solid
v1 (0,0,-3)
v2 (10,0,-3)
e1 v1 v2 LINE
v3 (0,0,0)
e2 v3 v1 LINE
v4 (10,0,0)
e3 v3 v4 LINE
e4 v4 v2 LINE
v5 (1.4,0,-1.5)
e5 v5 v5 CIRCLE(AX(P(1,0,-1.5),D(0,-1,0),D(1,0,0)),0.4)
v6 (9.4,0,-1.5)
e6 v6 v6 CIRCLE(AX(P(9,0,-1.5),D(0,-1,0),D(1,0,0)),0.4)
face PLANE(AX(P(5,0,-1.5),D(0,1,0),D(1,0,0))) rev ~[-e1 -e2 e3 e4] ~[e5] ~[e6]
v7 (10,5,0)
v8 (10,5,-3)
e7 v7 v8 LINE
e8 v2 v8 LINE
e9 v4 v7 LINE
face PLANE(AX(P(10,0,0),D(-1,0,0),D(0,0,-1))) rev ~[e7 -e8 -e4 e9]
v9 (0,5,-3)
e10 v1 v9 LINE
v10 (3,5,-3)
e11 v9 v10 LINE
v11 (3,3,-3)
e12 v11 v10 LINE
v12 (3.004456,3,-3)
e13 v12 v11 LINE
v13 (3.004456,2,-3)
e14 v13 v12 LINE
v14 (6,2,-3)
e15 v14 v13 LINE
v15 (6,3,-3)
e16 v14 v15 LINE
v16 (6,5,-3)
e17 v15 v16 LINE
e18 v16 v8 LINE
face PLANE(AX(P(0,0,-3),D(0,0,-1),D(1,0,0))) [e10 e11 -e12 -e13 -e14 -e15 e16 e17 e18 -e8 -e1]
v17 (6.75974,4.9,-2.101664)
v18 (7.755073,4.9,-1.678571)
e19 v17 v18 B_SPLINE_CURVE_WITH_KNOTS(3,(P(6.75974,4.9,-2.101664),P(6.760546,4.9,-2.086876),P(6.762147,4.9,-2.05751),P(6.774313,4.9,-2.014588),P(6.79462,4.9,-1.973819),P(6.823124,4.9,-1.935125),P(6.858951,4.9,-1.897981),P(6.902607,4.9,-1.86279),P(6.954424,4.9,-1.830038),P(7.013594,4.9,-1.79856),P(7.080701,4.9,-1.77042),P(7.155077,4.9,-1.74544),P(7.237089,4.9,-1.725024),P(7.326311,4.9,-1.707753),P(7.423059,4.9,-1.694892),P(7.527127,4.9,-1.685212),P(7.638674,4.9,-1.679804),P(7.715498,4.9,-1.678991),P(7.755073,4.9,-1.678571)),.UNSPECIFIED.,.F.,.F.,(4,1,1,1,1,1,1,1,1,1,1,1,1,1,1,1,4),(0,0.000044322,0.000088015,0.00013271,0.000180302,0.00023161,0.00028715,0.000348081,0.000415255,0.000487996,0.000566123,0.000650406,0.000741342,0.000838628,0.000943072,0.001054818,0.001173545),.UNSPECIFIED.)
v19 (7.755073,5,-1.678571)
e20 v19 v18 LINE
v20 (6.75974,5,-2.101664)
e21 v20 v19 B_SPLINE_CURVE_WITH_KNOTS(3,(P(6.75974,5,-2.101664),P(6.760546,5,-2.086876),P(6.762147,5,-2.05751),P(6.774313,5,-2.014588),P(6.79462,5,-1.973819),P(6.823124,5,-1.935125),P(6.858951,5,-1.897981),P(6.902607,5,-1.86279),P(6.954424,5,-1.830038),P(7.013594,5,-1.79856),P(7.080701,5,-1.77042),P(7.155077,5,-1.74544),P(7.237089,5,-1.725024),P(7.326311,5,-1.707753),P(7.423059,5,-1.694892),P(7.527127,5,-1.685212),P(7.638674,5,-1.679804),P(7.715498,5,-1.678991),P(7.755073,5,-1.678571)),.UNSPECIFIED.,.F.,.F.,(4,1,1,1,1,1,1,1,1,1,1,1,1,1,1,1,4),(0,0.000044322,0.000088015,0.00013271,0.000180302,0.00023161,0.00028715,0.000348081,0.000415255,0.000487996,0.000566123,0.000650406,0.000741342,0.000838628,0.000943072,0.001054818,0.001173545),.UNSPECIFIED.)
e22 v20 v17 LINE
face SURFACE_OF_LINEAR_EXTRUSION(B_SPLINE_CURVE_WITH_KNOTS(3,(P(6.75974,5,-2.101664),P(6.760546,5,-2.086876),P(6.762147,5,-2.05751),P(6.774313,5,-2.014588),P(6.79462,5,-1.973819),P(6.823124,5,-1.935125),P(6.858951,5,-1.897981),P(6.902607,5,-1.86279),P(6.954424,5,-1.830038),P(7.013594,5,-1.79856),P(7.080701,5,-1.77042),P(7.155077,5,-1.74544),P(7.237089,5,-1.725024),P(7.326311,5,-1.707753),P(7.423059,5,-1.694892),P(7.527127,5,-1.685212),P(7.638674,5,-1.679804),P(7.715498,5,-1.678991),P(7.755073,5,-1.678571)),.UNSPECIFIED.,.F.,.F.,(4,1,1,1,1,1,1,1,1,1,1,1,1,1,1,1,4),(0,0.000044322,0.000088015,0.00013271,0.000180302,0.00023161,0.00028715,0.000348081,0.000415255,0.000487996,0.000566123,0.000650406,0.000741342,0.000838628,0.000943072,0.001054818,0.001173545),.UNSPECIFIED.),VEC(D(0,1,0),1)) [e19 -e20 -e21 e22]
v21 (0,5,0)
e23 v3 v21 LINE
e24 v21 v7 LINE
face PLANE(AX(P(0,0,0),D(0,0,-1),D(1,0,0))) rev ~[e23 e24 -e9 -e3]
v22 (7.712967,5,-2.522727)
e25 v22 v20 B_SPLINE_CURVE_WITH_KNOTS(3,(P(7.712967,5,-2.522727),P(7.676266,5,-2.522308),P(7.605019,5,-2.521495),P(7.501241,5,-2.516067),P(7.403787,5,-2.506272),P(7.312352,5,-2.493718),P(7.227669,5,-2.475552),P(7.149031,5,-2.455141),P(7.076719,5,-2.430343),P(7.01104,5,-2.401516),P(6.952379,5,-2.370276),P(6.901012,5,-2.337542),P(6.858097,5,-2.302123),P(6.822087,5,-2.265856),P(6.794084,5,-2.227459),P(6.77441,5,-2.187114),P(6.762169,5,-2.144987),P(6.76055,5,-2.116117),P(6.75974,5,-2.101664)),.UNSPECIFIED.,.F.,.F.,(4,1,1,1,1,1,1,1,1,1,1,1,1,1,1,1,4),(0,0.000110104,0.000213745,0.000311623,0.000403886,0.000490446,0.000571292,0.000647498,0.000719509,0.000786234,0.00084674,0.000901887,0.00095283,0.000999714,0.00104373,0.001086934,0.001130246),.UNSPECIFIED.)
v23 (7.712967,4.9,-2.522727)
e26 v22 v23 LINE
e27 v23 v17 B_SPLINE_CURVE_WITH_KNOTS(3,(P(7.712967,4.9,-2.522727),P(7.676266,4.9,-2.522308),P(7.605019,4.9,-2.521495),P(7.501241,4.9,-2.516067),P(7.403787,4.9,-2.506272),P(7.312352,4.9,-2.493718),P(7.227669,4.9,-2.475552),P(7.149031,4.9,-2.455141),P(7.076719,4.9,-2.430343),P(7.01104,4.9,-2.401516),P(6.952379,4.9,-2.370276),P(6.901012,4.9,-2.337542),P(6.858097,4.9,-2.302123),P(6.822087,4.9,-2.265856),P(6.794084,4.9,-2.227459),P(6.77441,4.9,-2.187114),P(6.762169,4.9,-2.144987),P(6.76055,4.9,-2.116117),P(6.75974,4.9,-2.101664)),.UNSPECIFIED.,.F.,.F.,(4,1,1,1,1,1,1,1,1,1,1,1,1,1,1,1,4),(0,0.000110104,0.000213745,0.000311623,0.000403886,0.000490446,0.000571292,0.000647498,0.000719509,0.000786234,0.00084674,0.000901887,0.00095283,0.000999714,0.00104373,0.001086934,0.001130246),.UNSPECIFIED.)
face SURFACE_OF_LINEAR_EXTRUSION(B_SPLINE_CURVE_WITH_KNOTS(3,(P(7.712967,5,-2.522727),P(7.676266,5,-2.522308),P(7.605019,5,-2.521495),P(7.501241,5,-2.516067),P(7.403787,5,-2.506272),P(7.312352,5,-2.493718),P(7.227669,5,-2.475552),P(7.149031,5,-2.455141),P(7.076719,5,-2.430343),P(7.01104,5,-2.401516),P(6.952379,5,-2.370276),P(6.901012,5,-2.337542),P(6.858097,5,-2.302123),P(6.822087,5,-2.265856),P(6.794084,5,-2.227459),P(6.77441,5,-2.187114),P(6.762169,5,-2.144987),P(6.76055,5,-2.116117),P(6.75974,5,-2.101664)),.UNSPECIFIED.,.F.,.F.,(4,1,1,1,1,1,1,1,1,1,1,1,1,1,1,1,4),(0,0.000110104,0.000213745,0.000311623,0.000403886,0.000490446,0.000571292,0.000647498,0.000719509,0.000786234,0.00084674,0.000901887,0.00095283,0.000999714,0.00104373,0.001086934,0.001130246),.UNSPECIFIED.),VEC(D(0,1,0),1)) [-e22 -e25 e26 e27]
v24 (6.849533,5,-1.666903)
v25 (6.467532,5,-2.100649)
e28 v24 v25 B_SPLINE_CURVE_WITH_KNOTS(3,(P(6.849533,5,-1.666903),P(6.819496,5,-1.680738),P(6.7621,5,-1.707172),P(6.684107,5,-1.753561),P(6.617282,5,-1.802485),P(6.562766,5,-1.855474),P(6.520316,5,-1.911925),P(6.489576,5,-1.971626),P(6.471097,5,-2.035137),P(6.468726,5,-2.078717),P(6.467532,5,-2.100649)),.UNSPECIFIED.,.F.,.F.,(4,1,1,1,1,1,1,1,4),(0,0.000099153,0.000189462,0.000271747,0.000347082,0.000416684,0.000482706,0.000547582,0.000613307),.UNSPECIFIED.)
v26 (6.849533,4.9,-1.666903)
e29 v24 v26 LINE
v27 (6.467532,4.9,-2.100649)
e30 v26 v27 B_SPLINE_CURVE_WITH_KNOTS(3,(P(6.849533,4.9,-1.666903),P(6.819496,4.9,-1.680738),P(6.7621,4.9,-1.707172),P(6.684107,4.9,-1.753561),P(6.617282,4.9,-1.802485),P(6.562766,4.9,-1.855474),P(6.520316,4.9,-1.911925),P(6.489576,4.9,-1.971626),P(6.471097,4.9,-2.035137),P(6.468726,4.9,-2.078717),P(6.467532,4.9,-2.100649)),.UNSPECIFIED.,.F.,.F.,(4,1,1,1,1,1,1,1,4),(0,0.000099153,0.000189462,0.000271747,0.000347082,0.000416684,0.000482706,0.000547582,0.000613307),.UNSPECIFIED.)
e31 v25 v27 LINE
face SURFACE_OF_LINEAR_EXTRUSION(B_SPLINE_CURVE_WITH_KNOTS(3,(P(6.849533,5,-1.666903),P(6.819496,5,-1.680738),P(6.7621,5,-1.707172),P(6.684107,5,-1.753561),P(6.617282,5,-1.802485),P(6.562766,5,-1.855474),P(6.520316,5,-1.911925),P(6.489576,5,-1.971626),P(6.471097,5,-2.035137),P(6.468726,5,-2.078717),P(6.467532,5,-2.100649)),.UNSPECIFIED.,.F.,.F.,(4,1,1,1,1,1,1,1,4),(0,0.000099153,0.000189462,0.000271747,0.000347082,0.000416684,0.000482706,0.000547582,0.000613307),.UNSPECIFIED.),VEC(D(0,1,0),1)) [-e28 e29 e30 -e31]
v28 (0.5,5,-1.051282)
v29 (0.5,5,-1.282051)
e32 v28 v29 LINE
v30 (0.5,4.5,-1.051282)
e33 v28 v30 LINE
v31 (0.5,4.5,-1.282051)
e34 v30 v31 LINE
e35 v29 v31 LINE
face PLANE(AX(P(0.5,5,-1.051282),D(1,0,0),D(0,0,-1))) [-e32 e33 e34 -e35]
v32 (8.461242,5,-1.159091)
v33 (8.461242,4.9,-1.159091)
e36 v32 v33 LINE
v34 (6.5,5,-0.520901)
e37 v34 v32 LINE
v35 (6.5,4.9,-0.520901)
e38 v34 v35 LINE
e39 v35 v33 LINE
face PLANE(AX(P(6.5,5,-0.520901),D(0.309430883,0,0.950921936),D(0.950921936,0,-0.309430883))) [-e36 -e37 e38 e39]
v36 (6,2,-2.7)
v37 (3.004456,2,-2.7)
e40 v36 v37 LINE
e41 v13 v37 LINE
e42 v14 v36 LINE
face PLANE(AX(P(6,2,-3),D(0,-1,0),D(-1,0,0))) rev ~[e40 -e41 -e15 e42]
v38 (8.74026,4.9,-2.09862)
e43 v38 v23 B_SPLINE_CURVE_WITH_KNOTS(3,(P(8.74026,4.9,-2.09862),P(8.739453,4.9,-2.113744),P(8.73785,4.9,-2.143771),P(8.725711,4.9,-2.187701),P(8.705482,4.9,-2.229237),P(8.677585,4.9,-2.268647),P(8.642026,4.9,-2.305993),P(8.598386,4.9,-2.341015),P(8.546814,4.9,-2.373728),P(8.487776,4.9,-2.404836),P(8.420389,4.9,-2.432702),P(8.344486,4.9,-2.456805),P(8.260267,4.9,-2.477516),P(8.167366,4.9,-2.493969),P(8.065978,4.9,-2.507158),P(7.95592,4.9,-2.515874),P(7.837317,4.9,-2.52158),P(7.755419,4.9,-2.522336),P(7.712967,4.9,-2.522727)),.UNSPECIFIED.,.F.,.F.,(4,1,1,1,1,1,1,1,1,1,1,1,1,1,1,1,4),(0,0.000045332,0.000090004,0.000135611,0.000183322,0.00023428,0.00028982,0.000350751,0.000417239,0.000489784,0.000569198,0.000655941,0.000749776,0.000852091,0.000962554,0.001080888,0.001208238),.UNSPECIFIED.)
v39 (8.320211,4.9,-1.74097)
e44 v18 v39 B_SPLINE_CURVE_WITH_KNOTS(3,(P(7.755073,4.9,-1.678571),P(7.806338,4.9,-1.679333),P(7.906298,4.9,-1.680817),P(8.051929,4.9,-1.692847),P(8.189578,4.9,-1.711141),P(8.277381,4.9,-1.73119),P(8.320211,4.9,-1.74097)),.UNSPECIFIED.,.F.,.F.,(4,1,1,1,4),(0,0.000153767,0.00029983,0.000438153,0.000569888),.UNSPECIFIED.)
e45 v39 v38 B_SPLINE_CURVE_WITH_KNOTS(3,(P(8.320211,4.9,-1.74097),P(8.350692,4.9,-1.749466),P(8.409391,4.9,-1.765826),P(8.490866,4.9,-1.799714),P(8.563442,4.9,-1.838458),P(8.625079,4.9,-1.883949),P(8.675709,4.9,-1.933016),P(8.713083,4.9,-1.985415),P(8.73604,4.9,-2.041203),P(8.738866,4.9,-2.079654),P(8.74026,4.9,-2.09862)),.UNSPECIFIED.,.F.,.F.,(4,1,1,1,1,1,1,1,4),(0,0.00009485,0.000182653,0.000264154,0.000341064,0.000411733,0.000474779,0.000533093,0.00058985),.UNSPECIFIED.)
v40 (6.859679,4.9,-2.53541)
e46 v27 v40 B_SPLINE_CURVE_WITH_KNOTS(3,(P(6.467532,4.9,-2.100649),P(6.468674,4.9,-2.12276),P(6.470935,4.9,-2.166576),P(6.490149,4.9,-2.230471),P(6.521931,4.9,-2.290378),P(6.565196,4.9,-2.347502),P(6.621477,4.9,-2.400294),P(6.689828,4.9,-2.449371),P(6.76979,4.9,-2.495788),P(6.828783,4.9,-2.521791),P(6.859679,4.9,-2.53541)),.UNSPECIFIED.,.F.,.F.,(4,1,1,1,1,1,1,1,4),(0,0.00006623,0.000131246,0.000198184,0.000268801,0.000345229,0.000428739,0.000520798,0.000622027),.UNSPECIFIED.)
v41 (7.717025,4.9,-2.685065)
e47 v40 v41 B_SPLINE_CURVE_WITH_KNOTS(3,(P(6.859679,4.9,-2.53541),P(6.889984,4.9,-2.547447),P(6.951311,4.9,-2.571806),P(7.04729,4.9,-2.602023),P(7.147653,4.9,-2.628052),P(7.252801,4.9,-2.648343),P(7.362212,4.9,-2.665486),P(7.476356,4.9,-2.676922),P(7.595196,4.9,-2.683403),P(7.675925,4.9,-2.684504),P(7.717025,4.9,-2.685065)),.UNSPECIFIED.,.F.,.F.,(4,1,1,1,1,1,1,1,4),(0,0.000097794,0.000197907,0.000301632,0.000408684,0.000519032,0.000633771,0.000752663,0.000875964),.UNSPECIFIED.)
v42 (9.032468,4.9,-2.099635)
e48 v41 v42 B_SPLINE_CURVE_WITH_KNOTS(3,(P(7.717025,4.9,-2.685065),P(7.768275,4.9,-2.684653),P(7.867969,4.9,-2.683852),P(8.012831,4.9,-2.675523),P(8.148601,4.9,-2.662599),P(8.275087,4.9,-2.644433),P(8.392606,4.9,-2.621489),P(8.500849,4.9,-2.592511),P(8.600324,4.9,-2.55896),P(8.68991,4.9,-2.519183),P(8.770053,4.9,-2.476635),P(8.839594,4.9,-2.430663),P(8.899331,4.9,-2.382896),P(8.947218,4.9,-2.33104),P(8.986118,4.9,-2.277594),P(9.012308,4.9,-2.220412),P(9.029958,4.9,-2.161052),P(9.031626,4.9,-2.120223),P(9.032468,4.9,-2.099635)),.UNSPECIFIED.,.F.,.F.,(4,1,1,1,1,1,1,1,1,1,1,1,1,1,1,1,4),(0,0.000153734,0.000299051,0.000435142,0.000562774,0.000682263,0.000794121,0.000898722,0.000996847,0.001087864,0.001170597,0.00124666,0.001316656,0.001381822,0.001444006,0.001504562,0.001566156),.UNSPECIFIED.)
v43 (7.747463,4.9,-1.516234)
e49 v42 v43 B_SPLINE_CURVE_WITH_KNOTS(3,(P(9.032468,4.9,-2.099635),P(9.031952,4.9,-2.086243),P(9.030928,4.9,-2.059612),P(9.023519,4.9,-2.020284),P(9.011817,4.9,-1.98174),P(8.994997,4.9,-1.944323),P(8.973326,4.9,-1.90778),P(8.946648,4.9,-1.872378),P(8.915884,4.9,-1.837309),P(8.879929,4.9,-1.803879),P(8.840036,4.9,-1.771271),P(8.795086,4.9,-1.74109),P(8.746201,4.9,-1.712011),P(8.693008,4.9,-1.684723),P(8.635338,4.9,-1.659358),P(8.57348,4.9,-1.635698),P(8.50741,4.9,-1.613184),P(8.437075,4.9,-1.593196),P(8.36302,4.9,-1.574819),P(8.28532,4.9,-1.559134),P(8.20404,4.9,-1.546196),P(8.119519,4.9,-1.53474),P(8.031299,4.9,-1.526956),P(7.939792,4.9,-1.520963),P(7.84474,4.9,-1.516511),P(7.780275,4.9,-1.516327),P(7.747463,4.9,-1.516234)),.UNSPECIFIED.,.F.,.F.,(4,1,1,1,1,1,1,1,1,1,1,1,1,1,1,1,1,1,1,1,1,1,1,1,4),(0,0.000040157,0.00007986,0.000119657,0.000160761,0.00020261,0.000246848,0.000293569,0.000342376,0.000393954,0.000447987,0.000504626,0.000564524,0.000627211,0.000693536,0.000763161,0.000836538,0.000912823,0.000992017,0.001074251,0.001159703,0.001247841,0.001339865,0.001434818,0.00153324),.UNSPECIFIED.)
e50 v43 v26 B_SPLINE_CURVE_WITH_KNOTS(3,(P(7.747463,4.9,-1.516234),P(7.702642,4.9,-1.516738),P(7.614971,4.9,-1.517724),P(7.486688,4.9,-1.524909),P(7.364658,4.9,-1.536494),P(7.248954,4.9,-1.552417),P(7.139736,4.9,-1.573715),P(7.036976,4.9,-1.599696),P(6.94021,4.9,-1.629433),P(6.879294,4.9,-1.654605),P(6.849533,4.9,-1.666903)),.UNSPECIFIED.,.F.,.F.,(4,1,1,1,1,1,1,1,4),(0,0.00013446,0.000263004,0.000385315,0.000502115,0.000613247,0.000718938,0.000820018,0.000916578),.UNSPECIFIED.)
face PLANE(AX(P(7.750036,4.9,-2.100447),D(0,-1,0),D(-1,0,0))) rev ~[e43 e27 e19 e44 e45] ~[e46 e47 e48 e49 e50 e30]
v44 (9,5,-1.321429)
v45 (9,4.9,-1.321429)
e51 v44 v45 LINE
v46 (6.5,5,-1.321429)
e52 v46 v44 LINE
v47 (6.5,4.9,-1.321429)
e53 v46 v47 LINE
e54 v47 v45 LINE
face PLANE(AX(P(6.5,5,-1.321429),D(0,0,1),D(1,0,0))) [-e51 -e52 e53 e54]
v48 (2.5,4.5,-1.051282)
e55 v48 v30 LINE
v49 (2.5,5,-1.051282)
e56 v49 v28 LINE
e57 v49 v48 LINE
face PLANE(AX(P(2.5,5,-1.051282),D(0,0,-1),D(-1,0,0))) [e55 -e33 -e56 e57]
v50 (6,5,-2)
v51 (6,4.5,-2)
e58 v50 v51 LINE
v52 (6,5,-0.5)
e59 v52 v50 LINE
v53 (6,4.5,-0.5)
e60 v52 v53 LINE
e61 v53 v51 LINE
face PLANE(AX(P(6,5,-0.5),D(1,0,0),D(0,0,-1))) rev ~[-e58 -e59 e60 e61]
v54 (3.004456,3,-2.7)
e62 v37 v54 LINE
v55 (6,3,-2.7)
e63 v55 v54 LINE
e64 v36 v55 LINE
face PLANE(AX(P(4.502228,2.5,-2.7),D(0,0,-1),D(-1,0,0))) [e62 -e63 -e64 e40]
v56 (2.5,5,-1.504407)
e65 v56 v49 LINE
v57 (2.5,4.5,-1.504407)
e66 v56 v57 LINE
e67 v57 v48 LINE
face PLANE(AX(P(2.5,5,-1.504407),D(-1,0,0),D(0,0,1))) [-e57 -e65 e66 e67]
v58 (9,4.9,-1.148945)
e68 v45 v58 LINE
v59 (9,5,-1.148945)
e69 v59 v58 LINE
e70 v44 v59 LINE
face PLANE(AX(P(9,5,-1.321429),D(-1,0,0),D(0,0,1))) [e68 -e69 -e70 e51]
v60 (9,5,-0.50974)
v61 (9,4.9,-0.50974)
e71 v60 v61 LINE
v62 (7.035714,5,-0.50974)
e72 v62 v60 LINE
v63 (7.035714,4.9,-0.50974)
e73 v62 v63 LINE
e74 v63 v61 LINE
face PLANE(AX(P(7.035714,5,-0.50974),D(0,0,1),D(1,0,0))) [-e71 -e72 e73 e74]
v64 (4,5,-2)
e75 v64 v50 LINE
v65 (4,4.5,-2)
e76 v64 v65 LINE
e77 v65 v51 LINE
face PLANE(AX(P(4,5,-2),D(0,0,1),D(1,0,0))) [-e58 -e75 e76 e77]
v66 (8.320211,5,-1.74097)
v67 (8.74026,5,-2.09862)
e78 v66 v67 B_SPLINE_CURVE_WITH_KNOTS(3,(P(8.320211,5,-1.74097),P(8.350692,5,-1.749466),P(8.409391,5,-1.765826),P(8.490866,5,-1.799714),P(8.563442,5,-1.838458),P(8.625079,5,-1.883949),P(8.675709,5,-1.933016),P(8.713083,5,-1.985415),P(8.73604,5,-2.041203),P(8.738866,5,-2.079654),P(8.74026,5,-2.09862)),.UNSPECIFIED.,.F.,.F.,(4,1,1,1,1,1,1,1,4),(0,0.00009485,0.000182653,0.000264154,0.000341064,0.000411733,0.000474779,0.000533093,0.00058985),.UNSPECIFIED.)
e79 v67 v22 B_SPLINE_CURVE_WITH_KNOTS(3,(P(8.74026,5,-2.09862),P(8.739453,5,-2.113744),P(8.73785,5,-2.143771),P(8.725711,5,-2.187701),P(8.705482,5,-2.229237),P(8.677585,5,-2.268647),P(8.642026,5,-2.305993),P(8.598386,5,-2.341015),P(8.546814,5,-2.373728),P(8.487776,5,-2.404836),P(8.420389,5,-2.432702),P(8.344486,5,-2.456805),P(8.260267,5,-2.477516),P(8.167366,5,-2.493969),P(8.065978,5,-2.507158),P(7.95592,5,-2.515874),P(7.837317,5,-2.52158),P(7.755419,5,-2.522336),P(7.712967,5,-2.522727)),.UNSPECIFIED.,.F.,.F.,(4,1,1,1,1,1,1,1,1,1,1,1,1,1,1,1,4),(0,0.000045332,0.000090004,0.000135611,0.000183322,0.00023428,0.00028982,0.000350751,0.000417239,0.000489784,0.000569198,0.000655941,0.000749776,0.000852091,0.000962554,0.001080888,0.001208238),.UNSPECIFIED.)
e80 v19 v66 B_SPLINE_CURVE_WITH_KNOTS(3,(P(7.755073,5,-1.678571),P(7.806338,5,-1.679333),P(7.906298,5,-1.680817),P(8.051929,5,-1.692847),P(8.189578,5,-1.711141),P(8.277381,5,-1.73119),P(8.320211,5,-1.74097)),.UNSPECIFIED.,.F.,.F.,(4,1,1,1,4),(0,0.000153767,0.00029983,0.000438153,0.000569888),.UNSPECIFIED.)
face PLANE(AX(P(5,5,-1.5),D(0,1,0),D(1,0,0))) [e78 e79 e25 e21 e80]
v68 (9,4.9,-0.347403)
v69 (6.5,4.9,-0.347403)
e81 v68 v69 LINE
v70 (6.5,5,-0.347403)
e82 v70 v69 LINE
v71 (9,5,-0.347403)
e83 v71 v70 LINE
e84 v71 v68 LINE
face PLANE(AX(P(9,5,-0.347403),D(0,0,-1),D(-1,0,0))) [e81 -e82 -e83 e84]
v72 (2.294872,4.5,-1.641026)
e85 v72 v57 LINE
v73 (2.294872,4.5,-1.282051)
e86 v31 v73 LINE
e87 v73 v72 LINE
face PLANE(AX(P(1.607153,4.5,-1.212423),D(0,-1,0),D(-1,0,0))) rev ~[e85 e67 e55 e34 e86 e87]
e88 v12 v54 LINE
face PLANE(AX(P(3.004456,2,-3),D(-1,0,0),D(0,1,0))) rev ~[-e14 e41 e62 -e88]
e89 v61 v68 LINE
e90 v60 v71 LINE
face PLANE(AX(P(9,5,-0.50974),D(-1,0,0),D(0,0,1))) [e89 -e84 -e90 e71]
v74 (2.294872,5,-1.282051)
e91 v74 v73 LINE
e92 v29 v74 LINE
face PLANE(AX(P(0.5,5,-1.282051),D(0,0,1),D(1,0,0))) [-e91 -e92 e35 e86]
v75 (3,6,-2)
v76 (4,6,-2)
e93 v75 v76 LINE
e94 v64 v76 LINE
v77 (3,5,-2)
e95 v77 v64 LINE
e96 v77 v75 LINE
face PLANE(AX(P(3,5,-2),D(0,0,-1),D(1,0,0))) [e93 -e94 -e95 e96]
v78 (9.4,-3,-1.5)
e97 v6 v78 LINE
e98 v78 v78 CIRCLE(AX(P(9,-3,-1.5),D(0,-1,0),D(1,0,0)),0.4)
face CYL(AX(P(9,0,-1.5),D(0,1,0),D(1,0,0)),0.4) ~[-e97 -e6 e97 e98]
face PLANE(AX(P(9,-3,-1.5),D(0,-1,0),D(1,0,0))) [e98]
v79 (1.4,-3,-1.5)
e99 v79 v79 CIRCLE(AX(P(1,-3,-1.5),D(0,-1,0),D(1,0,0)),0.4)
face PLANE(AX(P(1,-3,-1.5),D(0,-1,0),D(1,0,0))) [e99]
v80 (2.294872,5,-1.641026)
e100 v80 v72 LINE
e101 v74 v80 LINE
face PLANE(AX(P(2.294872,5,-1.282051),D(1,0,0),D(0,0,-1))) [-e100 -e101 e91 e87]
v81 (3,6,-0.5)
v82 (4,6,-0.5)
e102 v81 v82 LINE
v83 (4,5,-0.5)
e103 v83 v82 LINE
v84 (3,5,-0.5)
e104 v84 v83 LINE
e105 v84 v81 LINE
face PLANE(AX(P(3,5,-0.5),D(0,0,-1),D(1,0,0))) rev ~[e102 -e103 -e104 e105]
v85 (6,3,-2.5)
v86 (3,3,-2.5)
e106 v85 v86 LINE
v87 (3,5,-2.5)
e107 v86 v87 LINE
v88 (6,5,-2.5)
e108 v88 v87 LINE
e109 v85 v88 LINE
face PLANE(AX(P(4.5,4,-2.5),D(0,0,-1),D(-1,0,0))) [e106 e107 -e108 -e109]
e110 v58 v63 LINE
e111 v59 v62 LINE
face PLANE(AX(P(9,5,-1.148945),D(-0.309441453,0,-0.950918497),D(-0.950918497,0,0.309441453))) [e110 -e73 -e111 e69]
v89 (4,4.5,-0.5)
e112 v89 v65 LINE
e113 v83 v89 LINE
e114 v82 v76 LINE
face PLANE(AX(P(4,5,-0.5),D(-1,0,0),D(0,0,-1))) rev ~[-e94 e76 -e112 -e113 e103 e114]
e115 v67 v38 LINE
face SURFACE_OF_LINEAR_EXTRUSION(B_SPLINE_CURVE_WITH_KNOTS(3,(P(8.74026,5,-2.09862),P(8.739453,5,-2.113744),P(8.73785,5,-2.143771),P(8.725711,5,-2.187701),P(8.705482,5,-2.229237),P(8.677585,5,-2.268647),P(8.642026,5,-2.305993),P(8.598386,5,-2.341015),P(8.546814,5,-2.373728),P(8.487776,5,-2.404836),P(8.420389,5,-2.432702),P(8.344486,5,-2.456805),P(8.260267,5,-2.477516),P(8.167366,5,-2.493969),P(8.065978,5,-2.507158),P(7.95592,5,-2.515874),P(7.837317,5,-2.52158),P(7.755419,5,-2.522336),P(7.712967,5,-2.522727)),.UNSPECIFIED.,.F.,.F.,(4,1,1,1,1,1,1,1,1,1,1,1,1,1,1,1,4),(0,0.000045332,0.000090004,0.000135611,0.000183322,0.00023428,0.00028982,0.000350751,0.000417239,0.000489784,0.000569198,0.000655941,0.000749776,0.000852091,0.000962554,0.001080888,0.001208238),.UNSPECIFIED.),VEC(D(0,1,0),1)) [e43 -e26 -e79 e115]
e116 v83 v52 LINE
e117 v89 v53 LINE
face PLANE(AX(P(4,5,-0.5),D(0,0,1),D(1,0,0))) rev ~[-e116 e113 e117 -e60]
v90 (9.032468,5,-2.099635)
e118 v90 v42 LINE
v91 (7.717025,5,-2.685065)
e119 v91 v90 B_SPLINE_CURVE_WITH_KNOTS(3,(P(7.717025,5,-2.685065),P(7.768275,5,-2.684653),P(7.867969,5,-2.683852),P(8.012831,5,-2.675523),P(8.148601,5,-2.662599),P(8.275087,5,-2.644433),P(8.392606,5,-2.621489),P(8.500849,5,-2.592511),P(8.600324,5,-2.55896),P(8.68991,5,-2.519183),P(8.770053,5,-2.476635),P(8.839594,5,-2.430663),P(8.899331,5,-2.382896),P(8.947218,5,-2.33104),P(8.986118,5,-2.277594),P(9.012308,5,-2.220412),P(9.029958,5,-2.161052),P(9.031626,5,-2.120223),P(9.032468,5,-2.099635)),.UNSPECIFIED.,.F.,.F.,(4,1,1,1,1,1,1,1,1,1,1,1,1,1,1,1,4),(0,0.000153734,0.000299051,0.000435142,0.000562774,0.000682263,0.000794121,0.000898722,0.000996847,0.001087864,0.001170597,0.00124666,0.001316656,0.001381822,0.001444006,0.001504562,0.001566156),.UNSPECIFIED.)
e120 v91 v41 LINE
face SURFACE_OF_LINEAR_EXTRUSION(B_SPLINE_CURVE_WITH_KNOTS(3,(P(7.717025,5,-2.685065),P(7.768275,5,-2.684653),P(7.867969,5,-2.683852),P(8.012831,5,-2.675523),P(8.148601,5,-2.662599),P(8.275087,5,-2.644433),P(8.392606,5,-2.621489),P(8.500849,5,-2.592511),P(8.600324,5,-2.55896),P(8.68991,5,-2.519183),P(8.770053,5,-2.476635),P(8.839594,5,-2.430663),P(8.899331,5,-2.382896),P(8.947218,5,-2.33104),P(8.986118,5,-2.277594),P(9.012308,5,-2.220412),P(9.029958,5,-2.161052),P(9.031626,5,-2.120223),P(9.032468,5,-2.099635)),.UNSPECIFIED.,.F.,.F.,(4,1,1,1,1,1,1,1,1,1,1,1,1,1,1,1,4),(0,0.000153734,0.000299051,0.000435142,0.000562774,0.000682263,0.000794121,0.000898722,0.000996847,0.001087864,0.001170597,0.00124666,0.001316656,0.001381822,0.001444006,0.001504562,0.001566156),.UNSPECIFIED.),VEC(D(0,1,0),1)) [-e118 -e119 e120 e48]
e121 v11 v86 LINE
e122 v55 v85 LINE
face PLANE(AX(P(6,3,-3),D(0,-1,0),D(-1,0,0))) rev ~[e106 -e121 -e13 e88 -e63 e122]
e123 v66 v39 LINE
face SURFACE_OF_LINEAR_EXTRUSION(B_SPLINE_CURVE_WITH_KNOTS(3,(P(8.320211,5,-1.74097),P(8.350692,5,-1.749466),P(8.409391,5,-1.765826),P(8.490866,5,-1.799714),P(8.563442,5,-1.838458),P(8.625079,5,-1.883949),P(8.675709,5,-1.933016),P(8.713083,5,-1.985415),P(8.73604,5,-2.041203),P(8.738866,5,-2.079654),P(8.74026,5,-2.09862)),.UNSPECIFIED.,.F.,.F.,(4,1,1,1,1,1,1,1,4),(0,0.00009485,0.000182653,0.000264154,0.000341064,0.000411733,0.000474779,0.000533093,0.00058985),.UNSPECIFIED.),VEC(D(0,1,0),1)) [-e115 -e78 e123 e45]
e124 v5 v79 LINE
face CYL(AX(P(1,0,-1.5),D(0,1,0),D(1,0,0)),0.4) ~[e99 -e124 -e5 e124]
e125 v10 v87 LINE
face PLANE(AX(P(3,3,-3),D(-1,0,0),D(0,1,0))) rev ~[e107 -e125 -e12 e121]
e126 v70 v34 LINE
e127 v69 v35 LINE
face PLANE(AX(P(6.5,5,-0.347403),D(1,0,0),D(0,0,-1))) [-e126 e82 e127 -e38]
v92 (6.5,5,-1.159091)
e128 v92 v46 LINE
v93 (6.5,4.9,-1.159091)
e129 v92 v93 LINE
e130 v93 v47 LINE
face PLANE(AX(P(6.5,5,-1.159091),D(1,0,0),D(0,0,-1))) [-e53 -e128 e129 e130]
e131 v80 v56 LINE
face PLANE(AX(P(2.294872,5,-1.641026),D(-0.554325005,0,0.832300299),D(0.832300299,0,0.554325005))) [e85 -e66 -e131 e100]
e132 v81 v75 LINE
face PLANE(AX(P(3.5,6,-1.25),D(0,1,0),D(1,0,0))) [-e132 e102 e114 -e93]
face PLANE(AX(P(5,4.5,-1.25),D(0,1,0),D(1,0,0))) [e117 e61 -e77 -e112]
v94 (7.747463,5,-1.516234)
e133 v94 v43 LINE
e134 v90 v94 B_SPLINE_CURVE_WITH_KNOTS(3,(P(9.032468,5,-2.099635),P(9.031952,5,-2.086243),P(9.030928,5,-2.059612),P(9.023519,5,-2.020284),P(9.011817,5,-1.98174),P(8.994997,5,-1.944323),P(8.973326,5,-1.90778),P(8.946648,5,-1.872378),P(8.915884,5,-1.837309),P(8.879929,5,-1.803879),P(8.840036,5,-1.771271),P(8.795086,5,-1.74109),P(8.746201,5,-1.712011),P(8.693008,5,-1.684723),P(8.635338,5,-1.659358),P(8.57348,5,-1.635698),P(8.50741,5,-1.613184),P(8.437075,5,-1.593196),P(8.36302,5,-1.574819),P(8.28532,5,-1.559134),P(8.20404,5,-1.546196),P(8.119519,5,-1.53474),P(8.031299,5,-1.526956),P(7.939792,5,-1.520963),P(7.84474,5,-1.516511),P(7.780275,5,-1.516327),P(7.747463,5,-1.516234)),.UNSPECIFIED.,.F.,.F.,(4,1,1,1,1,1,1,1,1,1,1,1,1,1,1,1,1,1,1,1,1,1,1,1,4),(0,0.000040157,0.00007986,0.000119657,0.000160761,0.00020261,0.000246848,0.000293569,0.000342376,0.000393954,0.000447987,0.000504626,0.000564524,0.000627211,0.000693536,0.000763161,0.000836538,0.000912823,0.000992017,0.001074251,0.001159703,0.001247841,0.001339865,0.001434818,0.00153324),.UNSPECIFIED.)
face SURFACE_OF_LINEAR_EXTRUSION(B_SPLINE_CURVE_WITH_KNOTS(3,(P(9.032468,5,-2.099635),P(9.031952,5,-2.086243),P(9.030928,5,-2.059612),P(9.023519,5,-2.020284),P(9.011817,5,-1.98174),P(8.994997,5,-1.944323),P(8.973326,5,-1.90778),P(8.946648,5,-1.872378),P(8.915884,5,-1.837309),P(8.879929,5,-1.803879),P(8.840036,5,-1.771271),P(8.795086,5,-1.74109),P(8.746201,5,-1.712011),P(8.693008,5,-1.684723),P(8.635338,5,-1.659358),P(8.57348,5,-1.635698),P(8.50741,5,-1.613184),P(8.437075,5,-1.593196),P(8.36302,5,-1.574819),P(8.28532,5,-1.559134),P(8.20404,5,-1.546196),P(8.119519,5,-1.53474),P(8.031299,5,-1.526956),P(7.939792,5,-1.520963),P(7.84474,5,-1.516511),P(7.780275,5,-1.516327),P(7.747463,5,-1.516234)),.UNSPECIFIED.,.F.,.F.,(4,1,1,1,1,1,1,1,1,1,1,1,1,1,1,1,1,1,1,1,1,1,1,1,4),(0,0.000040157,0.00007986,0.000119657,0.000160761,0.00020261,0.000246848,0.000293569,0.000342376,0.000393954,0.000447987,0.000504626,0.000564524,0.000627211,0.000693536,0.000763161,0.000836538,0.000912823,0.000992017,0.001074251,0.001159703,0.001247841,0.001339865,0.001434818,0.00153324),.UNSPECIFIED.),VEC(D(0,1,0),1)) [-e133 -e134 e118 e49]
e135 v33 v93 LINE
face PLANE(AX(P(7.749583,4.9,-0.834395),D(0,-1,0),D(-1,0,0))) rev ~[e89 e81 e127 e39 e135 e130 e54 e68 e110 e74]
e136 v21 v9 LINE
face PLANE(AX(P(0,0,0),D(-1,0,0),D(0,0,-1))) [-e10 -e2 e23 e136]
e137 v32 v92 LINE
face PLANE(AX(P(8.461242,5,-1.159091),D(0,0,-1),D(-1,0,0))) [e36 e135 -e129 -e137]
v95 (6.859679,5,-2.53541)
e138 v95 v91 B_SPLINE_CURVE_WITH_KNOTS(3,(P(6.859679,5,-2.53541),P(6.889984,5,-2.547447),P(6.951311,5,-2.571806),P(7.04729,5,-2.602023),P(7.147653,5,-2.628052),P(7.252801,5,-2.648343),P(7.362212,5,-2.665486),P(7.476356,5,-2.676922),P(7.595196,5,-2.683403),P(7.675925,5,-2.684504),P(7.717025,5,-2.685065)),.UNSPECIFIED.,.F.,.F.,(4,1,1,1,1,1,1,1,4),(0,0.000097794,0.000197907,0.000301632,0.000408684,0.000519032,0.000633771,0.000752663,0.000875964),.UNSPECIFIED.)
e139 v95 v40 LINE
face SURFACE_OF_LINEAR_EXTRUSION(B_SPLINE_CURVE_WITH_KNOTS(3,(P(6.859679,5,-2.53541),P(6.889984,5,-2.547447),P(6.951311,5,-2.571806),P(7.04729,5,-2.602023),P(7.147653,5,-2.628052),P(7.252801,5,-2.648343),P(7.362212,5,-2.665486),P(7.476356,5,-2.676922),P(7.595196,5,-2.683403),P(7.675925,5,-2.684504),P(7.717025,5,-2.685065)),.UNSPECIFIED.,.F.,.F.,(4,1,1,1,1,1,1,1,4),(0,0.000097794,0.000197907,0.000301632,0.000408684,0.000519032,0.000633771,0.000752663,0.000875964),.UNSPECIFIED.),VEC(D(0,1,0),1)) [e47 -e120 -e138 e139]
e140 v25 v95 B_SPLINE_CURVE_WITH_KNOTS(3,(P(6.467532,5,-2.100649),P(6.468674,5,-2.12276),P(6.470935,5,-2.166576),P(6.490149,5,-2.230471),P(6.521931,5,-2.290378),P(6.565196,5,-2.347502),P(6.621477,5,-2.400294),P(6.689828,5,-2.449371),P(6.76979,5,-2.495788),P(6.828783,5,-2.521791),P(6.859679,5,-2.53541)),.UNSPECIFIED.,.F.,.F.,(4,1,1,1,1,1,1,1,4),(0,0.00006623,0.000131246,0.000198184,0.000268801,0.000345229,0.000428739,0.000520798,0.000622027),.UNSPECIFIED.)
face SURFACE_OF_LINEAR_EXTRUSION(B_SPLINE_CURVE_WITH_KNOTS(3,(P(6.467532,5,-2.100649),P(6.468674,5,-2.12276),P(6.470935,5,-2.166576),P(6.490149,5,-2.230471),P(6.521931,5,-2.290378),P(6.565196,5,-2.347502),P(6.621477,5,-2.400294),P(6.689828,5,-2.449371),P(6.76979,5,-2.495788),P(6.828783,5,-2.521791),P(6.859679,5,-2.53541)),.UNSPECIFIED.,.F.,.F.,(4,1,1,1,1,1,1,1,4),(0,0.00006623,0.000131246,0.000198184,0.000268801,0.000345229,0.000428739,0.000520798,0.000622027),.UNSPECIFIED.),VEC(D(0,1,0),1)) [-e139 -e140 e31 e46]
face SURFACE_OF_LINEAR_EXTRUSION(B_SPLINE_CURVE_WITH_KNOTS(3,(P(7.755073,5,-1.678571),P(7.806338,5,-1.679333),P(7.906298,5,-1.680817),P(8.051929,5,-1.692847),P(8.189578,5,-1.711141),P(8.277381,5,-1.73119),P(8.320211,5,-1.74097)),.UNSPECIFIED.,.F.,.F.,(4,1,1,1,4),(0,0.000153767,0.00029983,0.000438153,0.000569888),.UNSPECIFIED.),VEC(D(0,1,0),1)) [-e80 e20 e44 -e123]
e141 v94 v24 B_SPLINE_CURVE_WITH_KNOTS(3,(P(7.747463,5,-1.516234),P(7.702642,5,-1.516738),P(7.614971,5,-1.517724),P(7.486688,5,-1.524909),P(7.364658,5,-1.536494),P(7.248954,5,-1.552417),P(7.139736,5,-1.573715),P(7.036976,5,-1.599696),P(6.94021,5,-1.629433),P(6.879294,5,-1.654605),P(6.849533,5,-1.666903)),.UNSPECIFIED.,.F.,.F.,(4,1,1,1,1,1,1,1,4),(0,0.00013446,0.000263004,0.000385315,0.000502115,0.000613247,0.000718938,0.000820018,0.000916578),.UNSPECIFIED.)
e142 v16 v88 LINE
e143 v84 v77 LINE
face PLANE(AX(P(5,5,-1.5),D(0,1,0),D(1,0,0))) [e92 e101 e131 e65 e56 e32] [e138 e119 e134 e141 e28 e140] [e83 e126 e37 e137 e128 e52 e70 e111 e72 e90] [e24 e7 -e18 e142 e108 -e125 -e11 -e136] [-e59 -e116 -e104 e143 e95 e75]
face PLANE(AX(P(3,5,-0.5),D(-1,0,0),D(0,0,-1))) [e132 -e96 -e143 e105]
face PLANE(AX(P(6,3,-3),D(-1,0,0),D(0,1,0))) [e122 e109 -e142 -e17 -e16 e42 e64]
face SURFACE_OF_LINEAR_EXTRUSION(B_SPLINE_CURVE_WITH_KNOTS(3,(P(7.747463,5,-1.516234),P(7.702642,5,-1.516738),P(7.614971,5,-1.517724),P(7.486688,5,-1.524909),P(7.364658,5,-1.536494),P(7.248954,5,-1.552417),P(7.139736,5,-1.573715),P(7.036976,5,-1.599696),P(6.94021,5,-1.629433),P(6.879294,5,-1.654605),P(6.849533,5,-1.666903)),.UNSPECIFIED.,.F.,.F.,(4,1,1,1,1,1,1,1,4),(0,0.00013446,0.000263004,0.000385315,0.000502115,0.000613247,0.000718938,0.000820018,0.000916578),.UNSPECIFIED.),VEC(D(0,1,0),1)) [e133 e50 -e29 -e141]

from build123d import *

# Parameters (mm, degrees)
ESBO_O1_W                = 10
ESBO_O1_H                = 3
RESSALTO_EXTRUS_O1_DEPTH = 5
ESBO_O4_W                = 1
ESBO_O4_H                = 1.5
RESSALTO_EXTRUS_O2_DEPTH = 1
ESBO_O8_W                = 2
ESBO_O8_H                = 1.5
CORTE_EXTRUS_O2_DEPTH    = 0.5
CORTE_EXTRUS_O5_DEPTH    = 0.1
CORTE_EXTRUS_O6_DEPTH    = 0.5
ESBO_O11_R               = 0.4
RESSALTO_EXTRUS_O4_DEPTH = 3
ESBO_O19_W               = 3
ESBO_O19_H               = 2
CORTE_EXTRUS_O9_DEPTH    = 0.5
ESBO_O21_W               = 2.995544047
ESBO_O21_H               = 1
CORTE_EXTRUS_O10_DEPTH   = 0.3


with BuildPart() as part:
    # Esboço1 → Ressalto-extrusão1 (new body)
    with BuildSketch(Plane(origin=(0, 0, 0), x_dir=(1, 0, 0), z_dir=(0, 1, 0))):
        with Locations((5, 1.5)):
            Rectangle(ESBO_O1_W, ESBO_O1_H)
    extrude(amount=RESSALTO_EXTRUS_O1_DEPTH)

    # Esboço4 → Ressalto-extrusão2 (add)
    with BuildSketch(Plane(origin=(0, 5, 0), x_dir=(1, 0, 0), z_dir=(0, 1, 0))):
        with Locations((3.5, 1.25)):
            Rectangle(ESBO_O4_W, ESBO_O4_H)
    extrude(amount=RESSALTO_EXTRUS_O2_DEPTH)

    # Esboço8 → Corte-extrusão2 (cut)
    with BuildSketch(Plane(origin=(0, 5, 0), x_dir=(1, 0, 0), z_dir=(0, 1, 0))):
        with Locations((5, 1.25)):
            Rectangle(ESBO_O8_W, ESBO_O8_H)
    extrude(amount=-CORTE_EXTRUS_O2_DEPTH, mode=Mode.SUBTRACT)

    # Esboço9 → Corte-extrusão5 (cut)
    with BuildSketch(Plane(origin=(0, 5, 0), x_dir=(1, 0, 0), z_dir=(0, 1, 0))):
        with BuildLine():
            add(Edge.make_bspline(
                [(7.717025162, 2.685064935), (7.768275073, 2.684653139), (7.867968532, 2.683852096), (8.012830606, 2.675522502), (8.148601104, 2.662599241), (8.275087284, 2.644432886), (8.392605867, 2.621489185), (8.500848932, 2.592511147), (8.600323781, 2.558959581), (8.689910066, 2.519182744), (8.770052693, 2.476635016), (8.839594359, 2.430662628), (8.899331263, 2.382896177), (8.947218272, 2.331040045), (8.986118217, 2.27759415), (9.012308422, 2.220411921), (9.029958288, 2.161052106), (9.031626399, 2.120222692), (9.032467532, 2.09963474)],
                knots=[0, 0, 0, 0, 0.000153734, 0.000299051, 0.000435142, 0.000562774, 0.000682263, 0.000794121, 0.000898722, 0.000996847, 0.001087864, 0.001170597, 0.00124666, 0.001316656, 0.001381822, 0.001444006, 0.001504562, 0.001566156, 0.001566156, 0.001566156, 0.001566156], degree=3))
            add(Edge.make_bspline(
                [(9.032467532, 2.09963474), (9.031952466, 2.086243406), (9.03092816, 2.059612265), (9.023519116, 2.020284156), (9.011816828, 1.98174038), (8.994996923, 1.944322939), (8.973326429, 1.907779642), (8.946647613, 1.872377676), (8.91588358, 1.837308554), (8.879929464, 1.803879089), (8.84003574, 1.771271209), (8.79508583, 1.741089795), (8.746201299, 1.712010826), (8.693008442, 1.684722634), (8.635338402, 1.659358364), (8.573479622, 1.635698049), (8.507410398, 1.613183974), (8.437075438, 1.593196089), (8.363020356, 1.57481891), (8.285320249, 1.559134103), (8.204039884, 1.546195816), (8.119518678, 1.534740096), (8.031299129, 1.526956469), (7.939792349, 1.520962638), (7.844740014, 1.516511464), (7.78027454, 1.516327433), (7.747463474, 1.516233766)],
                knots=[0, 0, 0, 0, 4.0157e-05, 7.986e-05, 0.000119657, 0.000160761, 0.00020261, 0.000246848, 0.000293569, 0.000342376, 0.000393954, 0.000447987, 0.000504626, 0.000564524, 0.000627211, 0.000693536, 0.000763161, 0.000836538, 0.000912823, 0.000992017, 0.001074251, 0.001159703, 0.001247841, 0.001339865, 0.001434818, 0.00153324, 0.00153324, 0.00153324, 0.00153324], degree=3))
            add(Edge.make_bspline(
                [(7.747463474, 1.516233766), (7.702642019, 1.51673791), (7.614970919, 1.517724018), (7.486687775, 1.524909023), (7.364657949, 1.536494006), (7.248954096, 1.552416836), (7.139735974, 1.573715014), (7.036976444, 1.599695769), (6.940209946, 1.629432703), (6.87929448, 1.654605061), (6.849533279, 1.666903409)],
                knots=[0, 0, 0, 0, 0.00013446, 0.000263004, 0.000385315, 0.000502115, 0.000613247, 0.000718938, 0.000820018, 0.000916578, 0.000916578, 0.000916578, 0.000916578], degree=3))
            add(Edge.make_bspline(
                [(6.849533279, 1.666903409), (6.819495721, 1.680737693), (6.762099909, 1.707172265), (6.684107261, 1.753561383), (6.617281662, 1.802485084), (6.562765507, 1.855474257), (6.520316361, 1.9119252), (6.489575578, 1.97162645), (6.471096623, 2.035136967), (6.468725659, 2.078717419), (6.467532468, 2.100649351)],
                knots=[0, 0, 0, 0, 9.9153e-05, 0.000189462, 0.000271747, 0.000347082, 0.000416684, 0.000482706, 0.000547582, 0.000613307, 0.000613307, 0.000613307, 0.000613307], degree=3))
            add(Edge.make_bspline(
                [(6.467532468, 2.100649351), (6.468673515, 2.122760058), (6.470934698, 2.166576254), (6.490149361, 2.23047144), (6.521930555, 2.290377771), (6.565195504, 2.347502443), (6.621476513, 2.400294414), (6.689828213, 2.449371296), (6.769790362, 2.49578785), (6.828783463, 2.521791334), (6.859679383, 2.535409903)],
                knots=[0, 0, 0, 0, 6.623e-05, 0.000131246, 0.000198184, 0.000268801, 0.000345229, 0.000428739, 0.000520798, 0.000622027, 0.000622027, 0.000622027, 0.000622027], degree=3))
            add(Edge.make_bspline(
                [(6.859679383, 2.535409903), (6.889983671, 2.547446904), (6.951310735, 2.571806293), (7.047289586, 2.602023308), (7.147652813, 2.628051521), (7.252801276, 2.648342721), (7.36221225, 2.665485653), (7.476356384, 2.676921818), (7.595195642, 2.68340278), (7.675925466, 2.6845042), (7.717025162, 2.685064935)],
                knots=[0, 0, 0, 0, 9.7794e-05, 0.000197907, 0.000301632, 0.000408684, 0.000519032, 0.000633771, 0.000752663, 0.000875964, 0.000875964, 0.000875964, 0.000875964], degree=3))
        make_face()
        with BuildLine():
            add(Edge.make_bspline(
                [(7.712966721, 2.522727273), (7.676265876, 2.522308225), (7.605018602, 2.52149473), (7.50124071, 2.516066621), (7.403787401, 2.506272361), (7.312351828, 2.493718156), (7.227668706, 2.475551712), (7.149030594, 2.455141256), (7.076719376, 2.430343071), (7.011040089, 2.401515886), (6.952378669, 2.370275717), (6.901011675, 2.337541762), (6.858096688, 2.302123084), (6.822086823, 2.265855819), (6.794084242, 2.227459146), (6.774410061, 2.1871143), (6.762168952, 2.14498675), (6.760550491, 2.116116802), (6.75974026, 2.101663961)],
                knots=[0, 0, 0, 0, 0.000110104, 0.000213745, 0.000311623, 0.000403886, 0.000490446, 0.000571292, 0.000647498, 0.000719509, 0.000786234, 0.00084674, 0.000901887, 0.00095283, 0.000999714, 0.00104373, 0.001086934, 0.001130246, 0.001130246, 0.001130246, 0.001130246], degree=3))
            add(Edge.make_bspline(
                [(6.75974026, 2.101663961), (6.760546361, 2.08687607), (6.762147128, 2.057510041), (6.774313031, 2.014588099), (6.794620069, 1.973819375), (6.82312444, 1.935125343), (6.858951297, 1.897980531), (6.902606815, 1.862790076), (6.954424216, 1.830037922), (7.013593655, 1.798559592), (7.080701403, 1.770420052), (7.15507718, 1.745439683), (7.237089191, 1.7250245), (7.326311037, 1.707753487), (7.423058943, 1.694892365), (7.527126513, 1.685211994), (7.638673744, 1.679804459), (7.715497711, 1.678990654), (7.755073052, 1.678571429)],
                knots=[0, 0, 0, 0, 4.4322e-05, 8.8015e-05, 0.00013271, 0.000180302, 0.00023161, 0.00028715, 0.000348081, 0.000415255, 0.000487996, 0.000566123, 0.000650406, 0.000741342, 0.000838628, 0.000943072, 0.001054818, 0.001173545, 0.001173545, 0.001173545, 0.001173545], degree=3))
            add(Edge.make_bspline(
                [(7.755073052, 1.678571429), (7.806337615, 1.67933264), (7.906298407, 1.680816928), (8.051928946, 1.692847075), (8.189578018, 1.711140794), (8.277380562, 1.731189916), (8.320211039, 1.740969968)],
                knots=[0, 0, 0, 0, 0.000153767, 0.00029983, 0.000438153, 0.000569888, 0.000569888, 0.000569888, 0.000569888], degree=3))
            add(Edge.make_bspline(
                [(8.320211039, 1.740969968), (8.350692489, 1.749465777), (8.409390915, 1.765826239), (8.490866203, 1.799714474), (8.563441842, 1.83845794), (8.625079395, 1.883949286), (8.675708543, 1.933016459), (8.713082539, 1.985414753), (8.736039938, 2.041202632), (8.738865882, 2.07965435), (8.74025974, 2.09862013)],
                knots=[0, 0, 0, 0, 9.485e-05, 0.000182653, 0.000264154, 0.000341064, 0.000411733, 0.000474779, 0.000533093, 0.00058985, 0.00058985, 0.00058985, 0.00058985], degree=3))
            add(Edge.make_bspline(
                [(8.74025974, 2.09862013), (8.739452698, 2.113743816), (8.737850374, 2.143770825), (8.725711477, 2.187701113), (8.705482151, 2.229237127), (8.67758473, 2.268647264), (8.642026485, 2.305993002), (8.598385597, 2.341015015), (8.546814492, 2.373728066), (8.487776446, 2.404835686), (8.420389396, 2.432702421), (8.344485848, 2.456804565), (8.260267259, 2.477516021), (8.167366142, 2.493969498), (8.065977549, 2.507157629), (7.955920014, 2.515874448), (7.837316624, 2.521580425), (7.755418511, 2.522335751), (7.712966721, 2.522727273)],
                knots=[0, 0, 0, 0, 4.5332e-05, 9.0004e-05, 0.000135611, 0.000183322, 0.00023428, 0.00028982, 0.000350751, 0.000417239, 0.000489784, 0.000569198, 0.000655941, 0.000749776, 0.000852091, 0.000962554, 0.001080888, 0.001208238, 0.001208238, 0.001208238, 0.001208238], degree=3))
        make_face(mode=Mode.SUBTRACT)
        Polygon((6.5, 1.321428571), (9, 1.321428571), (9, 1.148944805), (7.035714286, 0.50974026), (9, 0.50974026), (9, 0.347402597), (6.5, 0.347402597), (6.5, 0.520900974), (8.461241883, 1.159090909), (6.5, 1.159090909), align=None)
    extrude(amount=-CORTE_EXTRUS_O5_DEPTH, mode=Mode.SUBTRACT)

    # Esboço10 → Corte-extrusão6 (cut)
    with BuildSketch(Plane(origin=(0, 5, 0), x_dir=(1, 0, 0), z_dir=(0, 1, 0))):
        Polygon((2.5, 1.504407051), (2.5, 1.051282051), (0.5, 1.051282051), (0.5, 1.282051282), (2.294871795, 1.282051282), (2.294871795, 1.641025641), align=None)
    extrude(amount=-CORTE_EXTRUS_O6_DEPTH, mode=Mode.SUBTRACT)

    # Esboço11 → Ressalto-extrusão4 (add)
    with BuildSketch(Plane.XZ):
        with Locations((1, -1.5)):
            Circle(ESBO_O11_R)
        with Locations((9, -1.5)):
            Circle(ESBO_O11_R)
    extrude(amount=RESSALTO_EXTRUS_O4_DEPTH)

    # Esboço19 → Corte-extrusão9 (cut)
    with BuildSketch(Plane(origin=(0, 0, -3), x_dir=(-1, 0, 0), z_dir=(0, 0, -1))):
        with Locations((-4.5, 4)):
            Rectangle(ESBO_O19_W, ESBO_O19_H)
    extrude(amount=-CORTE_EXTRUS_O9_DEPTH, mode=Mode.SUBTRACT)

    # Esboço21 → Corte-extrusão10 (cut)
    with BuildSketch(Plane(origin=(0, 0, -3), x_dir=(-1, 0, 0), z_dir=(0, 0, -1))):
        with Locations((-4.502227977, 2.5)):
            Rectangle(ESBO_O21_W, ESBO_O21_H)
    extrude(amount=-CORTE_EXTRUS_O10_DEPTH, mode=Mode.SUBTRACT)


solid = part.part
